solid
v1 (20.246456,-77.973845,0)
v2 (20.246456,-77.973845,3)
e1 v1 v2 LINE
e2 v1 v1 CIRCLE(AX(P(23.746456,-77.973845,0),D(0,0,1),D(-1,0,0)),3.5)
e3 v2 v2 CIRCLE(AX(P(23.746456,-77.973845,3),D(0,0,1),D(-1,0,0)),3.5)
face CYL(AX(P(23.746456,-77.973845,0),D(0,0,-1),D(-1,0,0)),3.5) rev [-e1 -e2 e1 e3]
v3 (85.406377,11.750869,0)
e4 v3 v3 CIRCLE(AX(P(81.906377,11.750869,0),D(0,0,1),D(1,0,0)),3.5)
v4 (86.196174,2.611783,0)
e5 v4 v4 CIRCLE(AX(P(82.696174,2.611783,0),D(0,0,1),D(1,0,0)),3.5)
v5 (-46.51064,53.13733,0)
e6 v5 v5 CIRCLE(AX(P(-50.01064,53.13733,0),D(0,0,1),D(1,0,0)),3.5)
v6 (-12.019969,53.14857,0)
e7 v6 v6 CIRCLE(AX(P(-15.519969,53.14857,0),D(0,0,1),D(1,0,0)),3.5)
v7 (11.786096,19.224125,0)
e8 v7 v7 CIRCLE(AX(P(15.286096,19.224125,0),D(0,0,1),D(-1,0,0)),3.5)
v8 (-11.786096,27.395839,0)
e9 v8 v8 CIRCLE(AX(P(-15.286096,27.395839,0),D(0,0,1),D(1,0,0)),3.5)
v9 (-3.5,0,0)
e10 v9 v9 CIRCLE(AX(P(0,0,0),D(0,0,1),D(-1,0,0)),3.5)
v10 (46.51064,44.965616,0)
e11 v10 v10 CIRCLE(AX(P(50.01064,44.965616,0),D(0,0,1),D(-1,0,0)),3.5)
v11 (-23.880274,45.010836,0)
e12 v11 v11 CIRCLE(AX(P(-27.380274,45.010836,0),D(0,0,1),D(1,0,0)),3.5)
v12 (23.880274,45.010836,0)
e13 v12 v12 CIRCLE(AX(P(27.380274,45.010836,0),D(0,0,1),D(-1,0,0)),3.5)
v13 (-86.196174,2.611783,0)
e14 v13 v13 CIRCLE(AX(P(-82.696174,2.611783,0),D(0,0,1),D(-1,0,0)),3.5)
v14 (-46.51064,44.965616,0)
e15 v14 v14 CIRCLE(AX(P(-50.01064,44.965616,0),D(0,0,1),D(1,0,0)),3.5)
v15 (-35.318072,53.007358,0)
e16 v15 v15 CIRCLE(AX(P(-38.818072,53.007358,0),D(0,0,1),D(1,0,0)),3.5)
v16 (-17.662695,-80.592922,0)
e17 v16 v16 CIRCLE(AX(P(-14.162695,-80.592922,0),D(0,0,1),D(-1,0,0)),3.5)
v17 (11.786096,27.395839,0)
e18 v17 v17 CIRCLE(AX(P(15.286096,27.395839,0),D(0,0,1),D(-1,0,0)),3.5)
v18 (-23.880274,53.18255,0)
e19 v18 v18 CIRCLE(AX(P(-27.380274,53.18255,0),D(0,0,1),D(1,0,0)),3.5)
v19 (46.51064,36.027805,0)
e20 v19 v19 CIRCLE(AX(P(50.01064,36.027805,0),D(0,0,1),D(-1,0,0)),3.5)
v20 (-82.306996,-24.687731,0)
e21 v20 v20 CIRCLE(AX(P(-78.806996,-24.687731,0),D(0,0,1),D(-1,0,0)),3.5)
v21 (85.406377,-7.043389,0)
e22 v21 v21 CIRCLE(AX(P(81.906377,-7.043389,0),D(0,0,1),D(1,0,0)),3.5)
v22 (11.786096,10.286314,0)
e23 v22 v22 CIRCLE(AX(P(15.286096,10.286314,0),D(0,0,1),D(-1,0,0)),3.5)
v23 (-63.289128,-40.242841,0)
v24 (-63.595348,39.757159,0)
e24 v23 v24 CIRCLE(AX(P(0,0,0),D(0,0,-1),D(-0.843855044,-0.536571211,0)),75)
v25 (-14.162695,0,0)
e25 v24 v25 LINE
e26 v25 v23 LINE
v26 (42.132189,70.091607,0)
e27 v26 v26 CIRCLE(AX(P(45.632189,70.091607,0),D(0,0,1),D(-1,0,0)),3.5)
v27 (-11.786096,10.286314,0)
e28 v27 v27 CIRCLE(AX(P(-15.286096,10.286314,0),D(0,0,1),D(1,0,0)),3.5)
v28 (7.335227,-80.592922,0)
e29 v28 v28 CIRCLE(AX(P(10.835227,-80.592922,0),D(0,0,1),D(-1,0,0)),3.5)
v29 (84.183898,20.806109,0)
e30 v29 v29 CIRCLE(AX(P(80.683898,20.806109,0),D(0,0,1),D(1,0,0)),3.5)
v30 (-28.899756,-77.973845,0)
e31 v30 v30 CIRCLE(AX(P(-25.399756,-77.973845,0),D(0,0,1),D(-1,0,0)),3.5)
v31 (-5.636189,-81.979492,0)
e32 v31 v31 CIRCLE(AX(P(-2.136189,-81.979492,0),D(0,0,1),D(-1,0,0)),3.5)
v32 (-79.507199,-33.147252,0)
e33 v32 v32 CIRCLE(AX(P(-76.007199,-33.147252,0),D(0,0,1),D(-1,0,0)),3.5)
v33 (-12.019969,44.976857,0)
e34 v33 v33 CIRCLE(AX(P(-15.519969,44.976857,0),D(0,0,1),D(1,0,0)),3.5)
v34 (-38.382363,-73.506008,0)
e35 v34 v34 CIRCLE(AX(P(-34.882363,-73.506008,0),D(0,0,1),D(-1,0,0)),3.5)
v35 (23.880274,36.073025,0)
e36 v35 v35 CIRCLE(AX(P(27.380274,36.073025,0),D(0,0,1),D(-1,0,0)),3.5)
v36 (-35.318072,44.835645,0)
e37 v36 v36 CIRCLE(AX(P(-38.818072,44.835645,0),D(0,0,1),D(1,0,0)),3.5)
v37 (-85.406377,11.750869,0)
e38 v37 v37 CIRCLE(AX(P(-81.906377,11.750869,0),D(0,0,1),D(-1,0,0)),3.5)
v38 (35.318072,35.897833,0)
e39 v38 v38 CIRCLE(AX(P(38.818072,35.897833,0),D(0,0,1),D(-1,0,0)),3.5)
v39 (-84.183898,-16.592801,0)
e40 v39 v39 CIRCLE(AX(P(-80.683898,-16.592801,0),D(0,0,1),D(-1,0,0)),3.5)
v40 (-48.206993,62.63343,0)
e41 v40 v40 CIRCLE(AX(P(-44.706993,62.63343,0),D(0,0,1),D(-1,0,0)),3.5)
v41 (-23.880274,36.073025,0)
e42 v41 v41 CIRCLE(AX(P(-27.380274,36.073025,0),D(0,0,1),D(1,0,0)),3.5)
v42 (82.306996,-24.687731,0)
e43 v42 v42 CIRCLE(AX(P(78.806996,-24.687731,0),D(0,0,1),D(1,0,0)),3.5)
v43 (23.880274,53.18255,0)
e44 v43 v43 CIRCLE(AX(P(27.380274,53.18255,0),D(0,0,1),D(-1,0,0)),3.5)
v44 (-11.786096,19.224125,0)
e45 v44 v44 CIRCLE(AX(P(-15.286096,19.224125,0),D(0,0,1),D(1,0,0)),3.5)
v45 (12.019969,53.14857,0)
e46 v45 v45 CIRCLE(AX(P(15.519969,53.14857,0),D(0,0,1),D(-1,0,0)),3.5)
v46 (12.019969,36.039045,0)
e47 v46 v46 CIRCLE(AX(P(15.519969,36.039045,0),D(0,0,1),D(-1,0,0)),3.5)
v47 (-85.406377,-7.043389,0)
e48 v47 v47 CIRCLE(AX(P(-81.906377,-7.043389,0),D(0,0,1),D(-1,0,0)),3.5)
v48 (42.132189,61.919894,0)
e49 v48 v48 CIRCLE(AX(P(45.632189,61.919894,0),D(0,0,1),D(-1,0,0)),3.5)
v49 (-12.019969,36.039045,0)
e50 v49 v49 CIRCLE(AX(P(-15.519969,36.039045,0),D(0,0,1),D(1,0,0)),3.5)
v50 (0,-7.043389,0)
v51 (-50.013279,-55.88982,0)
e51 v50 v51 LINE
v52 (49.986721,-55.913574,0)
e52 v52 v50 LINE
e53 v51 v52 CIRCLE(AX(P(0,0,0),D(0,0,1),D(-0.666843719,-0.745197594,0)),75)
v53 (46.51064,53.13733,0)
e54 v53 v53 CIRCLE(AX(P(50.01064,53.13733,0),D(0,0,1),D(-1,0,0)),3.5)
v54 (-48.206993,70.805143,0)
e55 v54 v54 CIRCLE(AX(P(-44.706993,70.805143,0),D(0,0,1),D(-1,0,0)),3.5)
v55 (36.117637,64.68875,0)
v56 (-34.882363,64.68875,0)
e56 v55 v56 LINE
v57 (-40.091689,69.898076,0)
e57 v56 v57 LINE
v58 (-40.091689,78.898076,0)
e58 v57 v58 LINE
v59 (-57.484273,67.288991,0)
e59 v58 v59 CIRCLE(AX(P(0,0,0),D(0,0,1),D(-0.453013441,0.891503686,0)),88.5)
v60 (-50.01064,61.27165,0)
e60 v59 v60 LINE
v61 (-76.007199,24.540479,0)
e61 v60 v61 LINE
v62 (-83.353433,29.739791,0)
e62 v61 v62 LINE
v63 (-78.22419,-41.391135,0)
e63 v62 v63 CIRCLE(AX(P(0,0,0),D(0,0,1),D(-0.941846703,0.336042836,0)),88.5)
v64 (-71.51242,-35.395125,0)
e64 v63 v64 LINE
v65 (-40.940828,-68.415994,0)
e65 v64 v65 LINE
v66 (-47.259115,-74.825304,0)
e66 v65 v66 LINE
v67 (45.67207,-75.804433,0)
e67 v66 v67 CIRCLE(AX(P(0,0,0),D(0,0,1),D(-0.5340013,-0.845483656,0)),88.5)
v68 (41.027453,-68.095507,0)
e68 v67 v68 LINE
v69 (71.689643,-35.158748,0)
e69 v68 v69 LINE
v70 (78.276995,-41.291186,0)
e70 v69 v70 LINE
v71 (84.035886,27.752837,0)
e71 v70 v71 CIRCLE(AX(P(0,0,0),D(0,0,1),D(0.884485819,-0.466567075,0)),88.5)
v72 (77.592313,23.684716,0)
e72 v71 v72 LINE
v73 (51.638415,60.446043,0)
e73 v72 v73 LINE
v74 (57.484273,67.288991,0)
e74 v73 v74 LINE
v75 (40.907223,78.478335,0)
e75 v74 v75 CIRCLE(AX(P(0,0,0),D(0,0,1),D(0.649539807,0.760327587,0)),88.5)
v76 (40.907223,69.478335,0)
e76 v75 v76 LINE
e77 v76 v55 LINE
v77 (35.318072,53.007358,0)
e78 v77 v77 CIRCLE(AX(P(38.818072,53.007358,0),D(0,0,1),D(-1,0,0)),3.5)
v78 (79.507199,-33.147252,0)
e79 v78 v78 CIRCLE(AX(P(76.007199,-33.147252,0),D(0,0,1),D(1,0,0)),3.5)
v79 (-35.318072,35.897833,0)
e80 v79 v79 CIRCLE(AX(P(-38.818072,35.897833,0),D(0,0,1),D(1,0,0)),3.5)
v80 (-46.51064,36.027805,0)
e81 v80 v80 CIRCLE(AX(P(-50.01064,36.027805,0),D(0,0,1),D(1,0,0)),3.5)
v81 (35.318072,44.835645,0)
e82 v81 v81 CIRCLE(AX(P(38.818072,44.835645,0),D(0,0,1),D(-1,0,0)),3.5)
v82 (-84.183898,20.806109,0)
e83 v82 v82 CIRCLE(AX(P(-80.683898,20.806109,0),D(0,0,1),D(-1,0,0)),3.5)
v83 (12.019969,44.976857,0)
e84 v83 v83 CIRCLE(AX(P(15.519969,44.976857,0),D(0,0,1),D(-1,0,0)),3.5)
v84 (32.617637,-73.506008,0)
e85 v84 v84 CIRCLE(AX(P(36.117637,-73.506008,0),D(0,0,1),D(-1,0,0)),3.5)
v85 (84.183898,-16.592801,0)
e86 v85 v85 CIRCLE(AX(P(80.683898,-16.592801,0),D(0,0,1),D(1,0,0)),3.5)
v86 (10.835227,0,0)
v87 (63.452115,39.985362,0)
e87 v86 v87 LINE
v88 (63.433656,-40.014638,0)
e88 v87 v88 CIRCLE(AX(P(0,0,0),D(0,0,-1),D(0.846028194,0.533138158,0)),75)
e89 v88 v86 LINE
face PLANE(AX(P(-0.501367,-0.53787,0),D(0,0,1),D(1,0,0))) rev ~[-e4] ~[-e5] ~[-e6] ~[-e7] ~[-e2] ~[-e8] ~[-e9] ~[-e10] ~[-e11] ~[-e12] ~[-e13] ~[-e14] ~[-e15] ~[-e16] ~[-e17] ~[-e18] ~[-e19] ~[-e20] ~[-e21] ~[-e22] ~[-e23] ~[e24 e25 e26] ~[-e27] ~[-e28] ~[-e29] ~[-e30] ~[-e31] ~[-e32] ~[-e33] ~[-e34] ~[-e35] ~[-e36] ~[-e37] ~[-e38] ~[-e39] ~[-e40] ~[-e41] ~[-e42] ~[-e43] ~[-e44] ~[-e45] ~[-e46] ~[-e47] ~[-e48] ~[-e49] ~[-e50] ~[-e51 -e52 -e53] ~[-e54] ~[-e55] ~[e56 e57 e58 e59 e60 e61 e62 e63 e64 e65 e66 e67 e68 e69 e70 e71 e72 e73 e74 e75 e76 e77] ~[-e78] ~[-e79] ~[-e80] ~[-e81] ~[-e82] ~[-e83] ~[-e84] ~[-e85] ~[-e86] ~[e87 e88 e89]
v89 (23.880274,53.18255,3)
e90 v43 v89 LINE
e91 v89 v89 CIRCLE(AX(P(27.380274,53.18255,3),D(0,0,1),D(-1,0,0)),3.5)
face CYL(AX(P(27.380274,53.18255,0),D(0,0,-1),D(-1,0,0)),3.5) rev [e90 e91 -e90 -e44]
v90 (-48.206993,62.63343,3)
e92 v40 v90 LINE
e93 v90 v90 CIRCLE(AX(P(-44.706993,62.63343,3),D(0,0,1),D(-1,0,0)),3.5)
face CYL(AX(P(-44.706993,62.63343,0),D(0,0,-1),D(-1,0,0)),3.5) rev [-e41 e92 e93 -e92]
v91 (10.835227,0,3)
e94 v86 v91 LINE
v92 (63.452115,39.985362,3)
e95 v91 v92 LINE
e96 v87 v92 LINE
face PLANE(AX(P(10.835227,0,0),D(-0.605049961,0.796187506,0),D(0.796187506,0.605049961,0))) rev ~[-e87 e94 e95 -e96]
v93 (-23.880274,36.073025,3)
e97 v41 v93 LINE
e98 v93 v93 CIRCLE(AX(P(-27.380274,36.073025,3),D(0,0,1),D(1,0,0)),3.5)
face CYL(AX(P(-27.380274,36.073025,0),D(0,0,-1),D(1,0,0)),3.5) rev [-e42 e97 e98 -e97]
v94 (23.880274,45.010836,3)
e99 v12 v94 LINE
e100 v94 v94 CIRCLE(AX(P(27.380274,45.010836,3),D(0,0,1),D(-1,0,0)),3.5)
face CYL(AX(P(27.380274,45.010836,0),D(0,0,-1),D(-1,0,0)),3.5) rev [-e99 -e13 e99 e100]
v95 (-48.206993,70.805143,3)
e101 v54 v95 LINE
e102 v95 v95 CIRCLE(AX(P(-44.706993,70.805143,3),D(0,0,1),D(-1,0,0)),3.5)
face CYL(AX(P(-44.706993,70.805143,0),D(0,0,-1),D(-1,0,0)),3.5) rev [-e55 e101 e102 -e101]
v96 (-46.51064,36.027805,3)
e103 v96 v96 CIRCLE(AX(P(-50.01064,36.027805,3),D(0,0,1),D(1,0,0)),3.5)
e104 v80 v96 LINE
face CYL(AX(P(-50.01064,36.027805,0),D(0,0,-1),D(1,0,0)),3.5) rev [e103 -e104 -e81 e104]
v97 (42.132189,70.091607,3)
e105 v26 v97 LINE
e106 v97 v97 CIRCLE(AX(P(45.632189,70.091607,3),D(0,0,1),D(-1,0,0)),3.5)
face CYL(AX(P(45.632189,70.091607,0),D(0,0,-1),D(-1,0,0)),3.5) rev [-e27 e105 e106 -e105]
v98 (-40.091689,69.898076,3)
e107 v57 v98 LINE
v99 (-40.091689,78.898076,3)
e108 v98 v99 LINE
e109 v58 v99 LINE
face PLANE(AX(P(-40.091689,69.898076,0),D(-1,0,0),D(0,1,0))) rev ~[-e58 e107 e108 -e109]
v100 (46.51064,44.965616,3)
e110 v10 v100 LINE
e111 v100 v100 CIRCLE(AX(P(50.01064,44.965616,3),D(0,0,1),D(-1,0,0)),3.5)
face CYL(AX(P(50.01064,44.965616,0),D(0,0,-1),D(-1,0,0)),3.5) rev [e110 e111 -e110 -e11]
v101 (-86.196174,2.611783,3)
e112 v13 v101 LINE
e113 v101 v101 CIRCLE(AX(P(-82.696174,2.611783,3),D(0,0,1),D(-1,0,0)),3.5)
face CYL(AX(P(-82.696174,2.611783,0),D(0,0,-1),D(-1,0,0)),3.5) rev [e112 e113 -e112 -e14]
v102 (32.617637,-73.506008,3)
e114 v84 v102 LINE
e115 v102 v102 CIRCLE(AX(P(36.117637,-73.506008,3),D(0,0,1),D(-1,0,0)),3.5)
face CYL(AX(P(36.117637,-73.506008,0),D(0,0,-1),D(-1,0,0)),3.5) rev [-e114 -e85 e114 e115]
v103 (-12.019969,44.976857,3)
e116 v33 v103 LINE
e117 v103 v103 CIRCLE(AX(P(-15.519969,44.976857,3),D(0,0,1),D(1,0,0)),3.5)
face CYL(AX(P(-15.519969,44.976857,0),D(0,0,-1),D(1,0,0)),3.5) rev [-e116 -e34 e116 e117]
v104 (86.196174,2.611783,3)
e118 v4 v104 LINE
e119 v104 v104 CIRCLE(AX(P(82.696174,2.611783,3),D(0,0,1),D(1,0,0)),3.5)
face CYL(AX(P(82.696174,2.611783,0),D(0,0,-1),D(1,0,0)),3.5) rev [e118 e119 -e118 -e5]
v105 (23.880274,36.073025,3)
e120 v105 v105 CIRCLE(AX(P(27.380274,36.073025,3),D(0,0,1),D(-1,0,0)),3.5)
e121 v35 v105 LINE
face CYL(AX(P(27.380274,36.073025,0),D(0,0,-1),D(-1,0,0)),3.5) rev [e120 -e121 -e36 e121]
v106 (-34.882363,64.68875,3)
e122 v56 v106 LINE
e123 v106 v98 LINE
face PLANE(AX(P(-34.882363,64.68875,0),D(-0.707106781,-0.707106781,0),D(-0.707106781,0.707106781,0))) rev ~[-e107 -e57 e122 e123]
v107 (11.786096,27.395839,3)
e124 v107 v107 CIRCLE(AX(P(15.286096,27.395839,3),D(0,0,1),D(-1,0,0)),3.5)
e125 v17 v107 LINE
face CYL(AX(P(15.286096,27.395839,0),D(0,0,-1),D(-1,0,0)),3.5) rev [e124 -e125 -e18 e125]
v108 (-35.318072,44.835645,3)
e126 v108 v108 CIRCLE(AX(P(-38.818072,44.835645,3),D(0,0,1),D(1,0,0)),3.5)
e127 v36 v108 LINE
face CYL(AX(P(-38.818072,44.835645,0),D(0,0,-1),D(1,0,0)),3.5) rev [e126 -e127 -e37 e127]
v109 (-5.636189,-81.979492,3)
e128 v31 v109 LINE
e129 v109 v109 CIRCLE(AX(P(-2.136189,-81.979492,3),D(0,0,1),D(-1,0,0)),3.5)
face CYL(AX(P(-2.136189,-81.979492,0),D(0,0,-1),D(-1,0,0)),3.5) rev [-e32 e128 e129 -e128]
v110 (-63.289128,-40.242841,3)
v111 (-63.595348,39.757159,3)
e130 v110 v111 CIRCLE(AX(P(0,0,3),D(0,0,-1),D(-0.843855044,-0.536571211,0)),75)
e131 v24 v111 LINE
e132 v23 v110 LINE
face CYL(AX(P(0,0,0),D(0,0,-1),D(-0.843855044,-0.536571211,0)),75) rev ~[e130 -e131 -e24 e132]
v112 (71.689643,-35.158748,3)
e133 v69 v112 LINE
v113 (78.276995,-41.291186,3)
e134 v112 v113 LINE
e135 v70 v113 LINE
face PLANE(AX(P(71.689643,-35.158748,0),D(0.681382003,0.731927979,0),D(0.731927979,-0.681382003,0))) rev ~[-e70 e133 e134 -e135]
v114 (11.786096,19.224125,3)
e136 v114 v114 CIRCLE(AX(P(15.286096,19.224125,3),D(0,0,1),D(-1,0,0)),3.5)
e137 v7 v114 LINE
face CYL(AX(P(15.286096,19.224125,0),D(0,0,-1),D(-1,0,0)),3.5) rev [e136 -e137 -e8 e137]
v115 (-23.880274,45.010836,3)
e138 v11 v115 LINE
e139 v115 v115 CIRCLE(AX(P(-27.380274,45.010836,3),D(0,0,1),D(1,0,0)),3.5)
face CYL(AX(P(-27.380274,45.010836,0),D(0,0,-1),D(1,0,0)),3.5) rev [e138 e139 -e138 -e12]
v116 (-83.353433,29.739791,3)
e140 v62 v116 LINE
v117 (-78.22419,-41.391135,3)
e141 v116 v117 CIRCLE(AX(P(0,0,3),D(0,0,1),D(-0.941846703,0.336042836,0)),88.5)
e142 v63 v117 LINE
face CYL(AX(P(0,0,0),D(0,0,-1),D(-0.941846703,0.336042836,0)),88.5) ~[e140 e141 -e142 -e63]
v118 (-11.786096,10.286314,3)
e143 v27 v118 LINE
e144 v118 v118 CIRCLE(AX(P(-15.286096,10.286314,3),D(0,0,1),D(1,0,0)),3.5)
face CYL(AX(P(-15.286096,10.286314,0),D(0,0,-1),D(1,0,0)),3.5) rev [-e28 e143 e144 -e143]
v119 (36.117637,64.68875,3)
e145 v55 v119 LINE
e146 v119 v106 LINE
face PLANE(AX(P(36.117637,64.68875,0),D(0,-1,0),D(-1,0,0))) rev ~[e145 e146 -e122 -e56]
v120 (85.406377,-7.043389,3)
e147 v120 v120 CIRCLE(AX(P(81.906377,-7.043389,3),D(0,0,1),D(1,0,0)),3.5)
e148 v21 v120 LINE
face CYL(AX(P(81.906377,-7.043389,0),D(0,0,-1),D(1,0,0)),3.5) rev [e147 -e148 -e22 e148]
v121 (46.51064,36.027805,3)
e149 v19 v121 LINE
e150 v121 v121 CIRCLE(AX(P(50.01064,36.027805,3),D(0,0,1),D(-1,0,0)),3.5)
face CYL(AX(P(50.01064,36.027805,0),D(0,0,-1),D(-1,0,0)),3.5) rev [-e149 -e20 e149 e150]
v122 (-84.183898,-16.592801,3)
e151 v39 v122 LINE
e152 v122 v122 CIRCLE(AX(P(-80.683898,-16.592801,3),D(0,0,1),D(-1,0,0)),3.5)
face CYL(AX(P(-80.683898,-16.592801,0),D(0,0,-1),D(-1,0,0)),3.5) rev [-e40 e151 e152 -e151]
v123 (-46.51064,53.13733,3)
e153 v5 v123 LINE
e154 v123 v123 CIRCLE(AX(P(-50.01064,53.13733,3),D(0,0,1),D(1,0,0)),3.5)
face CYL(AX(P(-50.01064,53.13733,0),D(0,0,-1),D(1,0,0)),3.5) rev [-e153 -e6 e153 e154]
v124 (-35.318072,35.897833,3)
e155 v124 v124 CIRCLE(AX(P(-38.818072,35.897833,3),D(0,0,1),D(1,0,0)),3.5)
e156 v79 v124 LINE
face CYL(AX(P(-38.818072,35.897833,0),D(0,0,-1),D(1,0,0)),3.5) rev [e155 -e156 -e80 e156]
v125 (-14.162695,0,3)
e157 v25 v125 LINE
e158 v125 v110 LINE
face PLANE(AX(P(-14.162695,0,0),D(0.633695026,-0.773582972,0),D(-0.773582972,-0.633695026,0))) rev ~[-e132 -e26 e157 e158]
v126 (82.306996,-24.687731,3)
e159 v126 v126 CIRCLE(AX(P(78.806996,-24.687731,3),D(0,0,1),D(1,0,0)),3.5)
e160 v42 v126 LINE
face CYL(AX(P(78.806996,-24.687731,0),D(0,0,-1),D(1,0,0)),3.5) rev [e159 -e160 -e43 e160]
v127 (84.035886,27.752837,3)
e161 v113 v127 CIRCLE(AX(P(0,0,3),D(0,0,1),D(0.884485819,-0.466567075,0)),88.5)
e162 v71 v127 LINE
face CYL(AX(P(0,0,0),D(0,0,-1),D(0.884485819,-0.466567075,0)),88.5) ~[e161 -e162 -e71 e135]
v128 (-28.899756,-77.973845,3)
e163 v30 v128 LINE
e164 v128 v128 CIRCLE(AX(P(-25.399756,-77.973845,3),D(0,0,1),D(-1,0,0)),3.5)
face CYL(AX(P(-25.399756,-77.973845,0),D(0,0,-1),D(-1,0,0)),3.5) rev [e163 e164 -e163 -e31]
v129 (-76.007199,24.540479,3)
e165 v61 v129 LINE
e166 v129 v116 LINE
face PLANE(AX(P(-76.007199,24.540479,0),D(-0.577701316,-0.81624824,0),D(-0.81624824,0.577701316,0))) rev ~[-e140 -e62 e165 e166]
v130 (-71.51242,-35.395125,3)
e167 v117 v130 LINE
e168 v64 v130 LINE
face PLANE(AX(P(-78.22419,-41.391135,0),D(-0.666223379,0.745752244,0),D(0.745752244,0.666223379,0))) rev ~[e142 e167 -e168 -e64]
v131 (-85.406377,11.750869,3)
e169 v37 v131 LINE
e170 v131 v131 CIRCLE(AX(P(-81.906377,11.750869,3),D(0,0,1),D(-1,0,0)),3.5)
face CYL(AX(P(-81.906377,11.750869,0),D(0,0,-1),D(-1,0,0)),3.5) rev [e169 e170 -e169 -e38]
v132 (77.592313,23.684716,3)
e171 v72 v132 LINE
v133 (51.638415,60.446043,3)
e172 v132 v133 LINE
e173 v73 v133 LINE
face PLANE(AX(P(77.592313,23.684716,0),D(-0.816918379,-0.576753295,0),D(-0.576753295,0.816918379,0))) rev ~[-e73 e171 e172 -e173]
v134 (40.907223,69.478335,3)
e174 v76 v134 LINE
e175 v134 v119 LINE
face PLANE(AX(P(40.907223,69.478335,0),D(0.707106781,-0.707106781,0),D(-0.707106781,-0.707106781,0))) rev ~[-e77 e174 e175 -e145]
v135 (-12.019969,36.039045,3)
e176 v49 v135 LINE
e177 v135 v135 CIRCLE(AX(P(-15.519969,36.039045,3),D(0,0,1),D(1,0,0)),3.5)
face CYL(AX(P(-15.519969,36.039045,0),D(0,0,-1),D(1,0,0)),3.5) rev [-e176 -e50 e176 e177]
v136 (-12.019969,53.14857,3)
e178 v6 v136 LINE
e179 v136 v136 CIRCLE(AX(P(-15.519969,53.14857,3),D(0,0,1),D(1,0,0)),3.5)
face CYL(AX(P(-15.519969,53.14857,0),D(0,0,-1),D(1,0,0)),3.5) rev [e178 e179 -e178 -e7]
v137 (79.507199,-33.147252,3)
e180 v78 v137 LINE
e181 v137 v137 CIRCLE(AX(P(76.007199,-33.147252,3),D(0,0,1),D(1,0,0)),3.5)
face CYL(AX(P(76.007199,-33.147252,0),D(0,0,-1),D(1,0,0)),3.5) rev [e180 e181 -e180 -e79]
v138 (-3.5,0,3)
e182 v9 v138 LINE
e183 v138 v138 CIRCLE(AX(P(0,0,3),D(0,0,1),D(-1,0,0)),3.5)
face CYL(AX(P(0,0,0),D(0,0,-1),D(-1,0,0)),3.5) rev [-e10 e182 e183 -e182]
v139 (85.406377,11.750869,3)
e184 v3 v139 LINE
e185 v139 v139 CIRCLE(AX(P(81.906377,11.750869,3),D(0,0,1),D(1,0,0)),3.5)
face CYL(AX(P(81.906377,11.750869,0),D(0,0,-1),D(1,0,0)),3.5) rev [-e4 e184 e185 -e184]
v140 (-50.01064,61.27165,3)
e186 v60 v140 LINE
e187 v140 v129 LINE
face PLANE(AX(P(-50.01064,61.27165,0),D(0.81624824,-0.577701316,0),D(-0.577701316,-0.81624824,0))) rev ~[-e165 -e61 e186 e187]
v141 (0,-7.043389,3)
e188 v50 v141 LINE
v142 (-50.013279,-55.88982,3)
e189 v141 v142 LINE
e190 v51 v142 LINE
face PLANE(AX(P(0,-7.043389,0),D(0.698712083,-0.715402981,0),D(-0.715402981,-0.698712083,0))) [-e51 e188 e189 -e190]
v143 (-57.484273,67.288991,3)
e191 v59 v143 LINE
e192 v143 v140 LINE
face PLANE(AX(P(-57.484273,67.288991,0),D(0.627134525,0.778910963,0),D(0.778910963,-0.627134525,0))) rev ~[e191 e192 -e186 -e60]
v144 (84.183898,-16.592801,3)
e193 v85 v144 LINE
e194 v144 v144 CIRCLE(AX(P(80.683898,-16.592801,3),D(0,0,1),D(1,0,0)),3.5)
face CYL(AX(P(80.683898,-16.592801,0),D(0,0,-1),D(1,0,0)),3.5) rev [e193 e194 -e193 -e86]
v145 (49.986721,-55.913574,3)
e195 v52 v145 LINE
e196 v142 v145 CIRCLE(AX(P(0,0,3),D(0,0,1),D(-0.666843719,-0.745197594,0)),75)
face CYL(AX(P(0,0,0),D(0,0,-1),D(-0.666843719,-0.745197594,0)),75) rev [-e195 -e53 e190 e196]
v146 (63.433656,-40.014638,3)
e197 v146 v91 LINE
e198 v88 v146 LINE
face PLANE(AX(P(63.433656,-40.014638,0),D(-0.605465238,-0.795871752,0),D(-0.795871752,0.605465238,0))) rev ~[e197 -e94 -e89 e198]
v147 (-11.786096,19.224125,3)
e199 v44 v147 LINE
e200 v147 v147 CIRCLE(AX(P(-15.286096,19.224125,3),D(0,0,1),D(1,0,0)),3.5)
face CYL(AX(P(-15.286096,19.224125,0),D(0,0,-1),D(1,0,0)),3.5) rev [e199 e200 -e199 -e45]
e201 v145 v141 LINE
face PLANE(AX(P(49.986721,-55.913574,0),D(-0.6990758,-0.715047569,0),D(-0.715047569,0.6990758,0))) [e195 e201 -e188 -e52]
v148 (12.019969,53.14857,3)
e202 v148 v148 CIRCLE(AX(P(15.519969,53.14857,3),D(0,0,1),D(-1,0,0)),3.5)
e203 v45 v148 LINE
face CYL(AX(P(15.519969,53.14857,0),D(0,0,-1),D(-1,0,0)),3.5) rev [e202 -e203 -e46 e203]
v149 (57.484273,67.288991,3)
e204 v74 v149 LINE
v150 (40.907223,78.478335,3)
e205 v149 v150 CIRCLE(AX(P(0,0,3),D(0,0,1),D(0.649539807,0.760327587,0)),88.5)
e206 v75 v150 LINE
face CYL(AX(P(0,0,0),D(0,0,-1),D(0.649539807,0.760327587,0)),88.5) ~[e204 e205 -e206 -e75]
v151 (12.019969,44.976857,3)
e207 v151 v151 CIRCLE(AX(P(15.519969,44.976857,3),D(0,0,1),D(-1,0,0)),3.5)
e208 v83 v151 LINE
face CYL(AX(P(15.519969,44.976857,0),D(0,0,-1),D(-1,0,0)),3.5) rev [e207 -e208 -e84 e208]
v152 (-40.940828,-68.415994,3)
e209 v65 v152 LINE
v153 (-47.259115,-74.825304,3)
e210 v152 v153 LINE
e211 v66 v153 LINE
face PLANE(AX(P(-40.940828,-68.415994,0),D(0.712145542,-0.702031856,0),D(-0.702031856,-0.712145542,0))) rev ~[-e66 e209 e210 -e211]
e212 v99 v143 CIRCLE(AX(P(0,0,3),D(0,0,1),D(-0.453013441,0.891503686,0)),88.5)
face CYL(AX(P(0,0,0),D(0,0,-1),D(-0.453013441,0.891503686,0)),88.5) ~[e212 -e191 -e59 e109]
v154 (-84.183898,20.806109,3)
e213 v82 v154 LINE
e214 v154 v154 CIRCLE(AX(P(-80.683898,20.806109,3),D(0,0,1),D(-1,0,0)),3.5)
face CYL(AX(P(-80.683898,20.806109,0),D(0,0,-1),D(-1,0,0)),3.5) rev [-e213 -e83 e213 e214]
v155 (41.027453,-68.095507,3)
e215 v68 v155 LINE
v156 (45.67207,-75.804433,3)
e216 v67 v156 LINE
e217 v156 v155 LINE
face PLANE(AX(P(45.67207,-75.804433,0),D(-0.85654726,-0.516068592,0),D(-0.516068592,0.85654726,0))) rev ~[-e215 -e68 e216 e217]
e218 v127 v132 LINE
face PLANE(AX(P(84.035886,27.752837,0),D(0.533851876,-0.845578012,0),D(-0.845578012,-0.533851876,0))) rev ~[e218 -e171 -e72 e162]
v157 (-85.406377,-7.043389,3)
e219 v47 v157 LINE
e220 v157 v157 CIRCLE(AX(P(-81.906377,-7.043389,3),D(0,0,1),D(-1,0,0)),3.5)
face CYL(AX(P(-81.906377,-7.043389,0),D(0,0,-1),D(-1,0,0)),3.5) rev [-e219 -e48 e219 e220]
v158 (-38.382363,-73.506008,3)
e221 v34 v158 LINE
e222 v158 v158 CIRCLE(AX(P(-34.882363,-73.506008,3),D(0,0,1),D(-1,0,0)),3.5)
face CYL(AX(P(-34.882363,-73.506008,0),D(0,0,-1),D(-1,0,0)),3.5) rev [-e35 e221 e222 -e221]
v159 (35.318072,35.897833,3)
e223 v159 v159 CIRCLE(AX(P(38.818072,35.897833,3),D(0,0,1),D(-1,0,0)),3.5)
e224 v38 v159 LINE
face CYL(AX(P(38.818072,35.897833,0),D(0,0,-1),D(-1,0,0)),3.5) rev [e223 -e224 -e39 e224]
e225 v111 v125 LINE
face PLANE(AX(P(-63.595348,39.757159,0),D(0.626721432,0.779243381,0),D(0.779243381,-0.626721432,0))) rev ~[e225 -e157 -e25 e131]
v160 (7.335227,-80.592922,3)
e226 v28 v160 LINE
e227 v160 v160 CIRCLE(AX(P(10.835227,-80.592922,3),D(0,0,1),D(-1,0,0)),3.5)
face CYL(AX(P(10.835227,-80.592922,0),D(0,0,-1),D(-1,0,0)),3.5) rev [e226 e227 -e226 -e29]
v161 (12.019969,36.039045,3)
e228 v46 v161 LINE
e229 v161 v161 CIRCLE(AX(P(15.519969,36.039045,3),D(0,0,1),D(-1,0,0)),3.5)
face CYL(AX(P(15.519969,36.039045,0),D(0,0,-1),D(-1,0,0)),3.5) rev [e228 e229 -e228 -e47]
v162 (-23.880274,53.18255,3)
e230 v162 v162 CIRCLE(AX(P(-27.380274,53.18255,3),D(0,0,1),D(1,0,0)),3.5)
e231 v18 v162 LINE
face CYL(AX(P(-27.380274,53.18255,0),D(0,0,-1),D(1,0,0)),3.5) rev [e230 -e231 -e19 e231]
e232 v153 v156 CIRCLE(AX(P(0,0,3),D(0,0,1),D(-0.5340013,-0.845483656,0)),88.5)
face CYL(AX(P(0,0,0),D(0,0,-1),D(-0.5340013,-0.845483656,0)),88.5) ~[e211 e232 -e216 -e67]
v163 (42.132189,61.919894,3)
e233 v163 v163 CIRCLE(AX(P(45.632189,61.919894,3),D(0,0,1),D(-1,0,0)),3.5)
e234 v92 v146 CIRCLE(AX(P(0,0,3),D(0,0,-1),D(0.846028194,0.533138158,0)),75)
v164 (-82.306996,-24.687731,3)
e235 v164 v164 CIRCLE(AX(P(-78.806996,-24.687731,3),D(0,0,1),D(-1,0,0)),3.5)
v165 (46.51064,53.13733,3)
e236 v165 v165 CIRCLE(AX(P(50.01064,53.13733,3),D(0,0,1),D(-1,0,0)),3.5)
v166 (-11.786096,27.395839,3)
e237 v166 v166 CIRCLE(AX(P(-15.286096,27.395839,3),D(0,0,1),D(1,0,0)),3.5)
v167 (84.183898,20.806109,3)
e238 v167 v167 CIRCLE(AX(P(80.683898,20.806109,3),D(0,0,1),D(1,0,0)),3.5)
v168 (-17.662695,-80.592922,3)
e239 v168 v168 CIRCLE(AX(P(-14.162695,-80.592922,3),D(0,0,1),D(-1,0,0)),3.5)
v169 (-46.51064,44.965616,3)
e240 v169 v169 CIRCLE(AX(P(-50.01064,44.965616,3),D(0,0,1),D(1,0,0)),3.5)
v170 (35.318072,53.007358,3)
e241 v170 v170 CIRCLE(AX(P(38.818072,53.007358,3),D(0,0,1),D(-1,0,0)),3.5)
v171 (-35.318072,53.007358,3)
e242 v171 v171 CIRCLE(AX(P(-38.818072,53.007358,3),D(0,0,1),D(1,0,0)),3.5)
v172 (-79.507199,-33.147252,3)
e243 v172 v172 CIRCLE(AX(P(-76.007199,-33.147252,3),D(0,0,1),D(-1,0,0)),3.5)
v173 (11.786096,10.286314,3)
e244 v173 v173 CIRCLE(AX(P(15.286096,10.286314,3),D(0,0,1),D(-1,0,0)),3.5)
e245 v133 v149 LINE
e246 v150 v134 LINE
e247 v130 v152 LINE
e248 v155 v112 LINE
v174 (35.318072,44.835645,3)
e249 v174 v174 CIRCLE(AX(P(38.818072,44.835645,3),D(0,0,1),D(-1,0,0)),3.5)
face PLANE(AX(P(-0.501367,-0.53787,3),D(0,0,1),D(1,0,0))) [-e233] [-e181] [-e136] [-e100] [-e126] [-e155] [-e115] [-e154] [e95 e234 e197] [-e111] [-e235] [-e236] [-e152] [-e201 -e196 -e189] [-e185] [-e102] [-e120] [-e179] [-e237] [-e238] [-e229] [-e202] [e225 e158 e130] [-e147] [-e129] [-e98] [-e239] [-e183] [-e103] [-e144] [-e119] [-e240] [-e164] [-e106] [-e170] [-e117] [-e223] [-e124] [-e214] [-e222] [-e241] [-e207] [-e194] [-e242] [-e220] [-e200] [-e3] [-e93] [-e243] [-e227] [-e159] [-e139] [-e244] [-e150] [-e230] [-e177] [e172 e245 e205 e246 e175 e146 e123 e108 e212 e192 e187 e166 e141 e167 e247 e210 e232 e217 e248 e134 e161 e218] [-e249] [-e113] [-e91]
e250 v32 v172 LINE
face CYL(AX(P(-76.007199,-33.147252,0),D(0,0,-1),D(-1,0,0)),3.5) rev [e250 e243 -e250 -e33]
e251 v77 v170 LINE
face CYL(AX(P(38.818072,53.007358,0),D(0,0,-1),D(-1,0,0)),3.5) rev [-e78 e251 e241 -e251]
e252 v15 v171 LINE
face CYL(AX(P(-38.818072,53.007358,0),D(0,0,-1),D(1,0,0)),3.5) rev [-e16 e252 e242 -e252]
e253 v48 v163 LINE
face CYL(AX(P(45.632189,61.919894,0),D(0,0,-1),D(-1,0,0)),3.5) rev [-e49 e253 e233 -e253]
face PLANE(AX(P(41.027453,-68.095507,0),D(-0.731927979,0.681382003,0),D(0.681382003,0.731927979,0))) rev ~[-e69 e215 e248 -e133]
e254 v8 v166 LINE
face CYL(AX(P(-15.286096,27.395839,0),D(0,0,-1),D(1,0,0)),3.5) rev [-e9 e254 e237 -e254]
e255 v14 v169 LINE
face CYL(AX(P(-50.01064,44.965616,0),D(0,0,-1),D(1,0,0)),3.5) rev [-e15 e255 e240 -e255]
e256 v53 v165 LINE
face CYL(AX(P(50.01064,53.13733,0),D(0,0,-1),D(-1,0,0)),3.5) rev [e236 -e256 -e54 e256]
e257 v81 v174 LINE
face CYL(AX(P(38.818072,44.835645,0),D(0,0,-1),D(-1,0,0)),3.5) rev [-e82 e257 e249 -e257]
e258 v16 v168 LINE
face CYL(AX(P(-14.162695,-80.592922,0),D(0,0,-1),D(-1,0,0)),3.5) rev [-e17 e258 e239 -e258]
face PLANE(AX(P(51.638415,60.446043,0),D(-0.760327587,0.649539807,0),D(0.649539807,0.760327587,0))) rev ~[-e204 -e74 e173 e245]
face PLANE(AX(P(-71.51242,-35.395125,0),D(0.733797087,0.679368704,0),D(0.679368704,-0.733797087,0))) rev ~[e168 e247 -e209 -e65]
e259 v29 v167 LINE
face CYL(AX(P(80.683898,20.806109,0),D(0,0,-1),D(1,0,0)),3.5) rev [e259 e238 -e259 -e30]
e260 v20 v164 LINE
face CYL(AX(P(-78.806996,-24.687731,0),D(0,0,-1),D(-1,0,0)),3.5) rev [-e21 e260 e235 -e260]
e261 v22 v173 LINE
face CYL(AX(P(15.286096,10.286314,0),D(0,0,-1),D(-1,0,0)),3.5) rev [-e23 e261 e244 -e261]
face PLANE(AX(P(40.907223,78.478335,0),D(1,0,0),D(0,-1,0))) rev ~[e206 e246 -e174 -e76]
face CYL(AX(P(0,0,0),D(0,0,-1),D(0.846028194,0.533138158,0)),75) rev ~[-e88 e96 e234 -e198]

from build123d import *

# Parameters (mm, degrees)
SKETCH1_R           = 3.5
BOSS_EXTRUDE4_DEPTH = 3


with BuildPart() as part:
    # Sketch1 → Boss-Extrude4 (new body)
    with BuildSketch(Plane.XY):
        with BuildLine():
            Line((40.907222951, 78.478335293), (40.907222951, 69.478335293))
            Line((40.907222951, 69.478335293), (36.117637198, 64.68874954))
            Line((36.117637198, 64.68874954), (-34.882362802, 64.68874954))
            Line((-34.882362802, 64.68874954), (-40.091689495, 69.898076234))
            Line((-40.091689495, 69.898076234), (-40.091689495, 78.898076234))
            ThreePointArc((-40.091689495, 78.898076234), (-49.132065099, 73.609035988), (-57.484272884, 67.288991455))
            Line((-57.484272884, 67.288991455), (-50.010639861, 61.271649914))
            Line((-50.010639861, 61.271649914), (-76.007199085, 24.540479112))
            Line((-76.007199085, 24.540479112), (-83.353433246, 29.739790957))
            ThreePointArc((-83.353433246, 29.739790957), (-88.270800728, -6.365197476), (-78.224190194, -41.391135144))
            Line((-78.224190194, -41.391135144), (-71.512419999, -35.395124733))
            Line((-71.512419999, -35.395124733), (-40.940828333, -68.415993634))
            Line((-40.940828333, -68.415993634), (-47.259115036, -74.825303514))
            ThreePointArc((-47.259115036, -74.825303514), (-0.932389989, -88.495088276), (45.672070369, -75.80443251))
            Line((45.672070369, -75.80443251), (41.027453044, -68.09550717))
            Line((41.027453044, -68.09550717), (71.689643186, -35.158748136))
            Line((71.689643186, -35.158748136), (78.276994993, -41.291186165))
            ThreePointArc((78.276994993, -41.291186165), (88.193747334, -7.356149214), (84.035885506, 27.752836742))
            Line((84.035885506, 27.752836742), (77.592312878, 23.684716135))
            Line((77.592312878, 23.684716135), (51.638414625, 60.446043171))
            Line((51.638414625, 60.446043171), (57.484272884, 67.288991455))
            ThreePointArc((57.484272884, 67.288991455), (49.512846485, 73.353445951), (40.907222951, 78.478335293))
        make_face()
        with Locations((-50.010639861, 36.027804692)):
            Circle(SKETCH1_R, mode=Mode.SUBTRACT)
        with Locations((-50.010639861, 44.965616211)):
            Circle(SKETCH1_R, mode=Mode.SUBTRACT)
        with Locations((-50.010639861, 53.137329599)):
            Circle(SKETCH1_R, mode=Mode.SUBTRACT)
        with Locations((-38.818072409, 35.897833432)):
            Circle(SKETCH1_R, mode=Mode.SUBTRACT)
        with Locations((-38.818072409, 44.835644951)):
            Circle(SKETCH1_R, mode=Mode.SUBTRACT)
        with Locations((-38.818072409, 53.007358339)):
            Circle(SKETCH1_R, mode=Mode.SUBTRACT)
        with Locations((-27.380273971, 36.073024906)):
            Circle(SKETCH1_R, mode=Mode.SUBTRACT)
        with Locations((-27.380273971, 45.010836425)):
            Circle(SKETCH1_R, mode=Mode.SUBTRACT)
        with Locations((-27.380273971, 53.182549814)):
            Circle(SKETCH1_R, mode=Mode.SUBTRACT)
        with Locations((-15.519969393, 36.039045095)):
            Circle(SKETCH1_R, mode=Mode.SUBTRACT)
        with Locations((-15.519969393, 44.976856614)):
            Circle(SKETCH1_R, mode=Mode.SUBTRACT)
        with Locations((-15.519969393, 53.148570003)):
            Circle(SKETCH1_R, mode=Mode.SUBTRACT)
        with Locations((-15.286095681, 10.286313721)):
            Circle(SKETCH1_R, mode=Mode.SUBTRACT)
        with Locations((-15.286095681, 19.22412524)):
            Circle(SKETCH1_R, mode=Mode.SUBTRACT)
        with Locations((-15.286095681, 27.395838628)):
            Circle(SKETCH1_R, mode=Mode.SUBTRACT)
        with Locations(Location((15.286095681, 27.395838628, 0), (0, 0, 180))):
            Circle(SKETCH1_R, mode=Mode.SUBTRACT)
        with Locations(Location((15.286095681, 19.22412524, 0), (0, 0, 180))):
            Circle(SKETCH1_R, mode=Mode.SUBTRACT)
        with Locations(Location((15.286095681, 10.286313721, 0), (0, 0, 180))):
            Circle(SKETCH1_R, mode=Mode.SUBTRACT)
        with Locations(Location((15.519969393, 53.148570003, 0), (0, 0, 180))):
            Circle(SKETCH1_R, mode=Mode.SUBTRACT)
        with Locations(Location((15.519969393, 44.976856614, 0), (0, 0, 180))):
            Circle(SKETCH1_R, mode=Mode.SUBTRACT)
        with Locations(Location((15.519969393, 36.039045095, 0), (0, 0, 180))):
            Circle(SKETCH1_R, mode=Mode.SUBTRACT)
        with Locations(Location((27.380273971, 53.182549814, 0), (0, 0, 180))):
            Circle(SKETCH1_R, mode=Mode.SUBTRACT)
        with Locations(Location((27.380273971, 45.010836425, 0), (0, 0, 180))):
            Circle(SKETCH1_R, mode=Mode.SUBTRACT)
        with Locations(Location((27.380273971, 36.073024906, 0), (0, 0, 180))):
            Circle(SKETCH1_R, mode=Mode.SUBTRACT)
        with Locations(Location((38.818072409, 53.007358339, 0), (0, 0, 180))):
            Circle(SKETCH1_R, mode=Mode.SUBTRACT)
        with Locations(Location((38.818072409, 44.835644951, 0), (0, 0, 180))):
            Circle(SKETCH1_R, mode=Mode.SUBTRACT)
        with Locations(Location((38.818072409, 35.897833432, 0), (0, 0, 180))):
            Circle(SKETCH1_R, mode=Mode.SUBTRACT)
        with Locations(Location((50.010639861, 53.137329599, 0), (0, 0, 180))):
            Circle(SKETCH1_R, mode=Mode.SUBTRACT)
        with Locations(Location((50.010639861, 44.965616211, 0), (0, 0, 180))):
            Circle(SKETCH1_R, mode=Mode.SUBTRACT)
        with Locations(Location((50.010639861, 36.027804692, 0), (0, 0, 180))):
            Circle(SKETCH1_R, mode=Mode.SUBTRACT)
        with Locations(Location((45.632189444, 70.091606922, 0), (0, 0, 180))):
            Circle(SKETCH1_R, mode=Mode.SUBTRACT)
        with Locations(Location((45.632189444, 61.919893534, 0), (0, 0, 180))):
            Circle(SKETCH1_R, mode=Mode.SUBTRACT)
        with Locations(Location((-44.706992882, 70.805142898, 0), (0, 0, 180))):
            Circle(SKETCH1_R, mode=Mode.SUBTRACT)
        with Locations(Location((-44.706992882, 62.633429509, 0), (0, 0, 180))):
            Circle(SKETCH1_R, mode=Mode.SUBTRACT)
        with Locations(Location((-80.683898282, 20.806109394, 0), (0, 0, 180))):
            Circle(SKETCH1_R, mode=Mode.SUBTRACT)
        with Locations(Location((-81.906376937, 11.750868753, 0), (0, 0, 180))):
            Circle(SKETCH1_R, mode=Mode.SUBTRACT)
        with Locations(Location((-82.69617398, 2.61178329, 0), (0, 0, 180))):
            Circle(SKETCH1_R, mode=Mode.SUBTRACT)
        with Locations(Location((-81.906376937, -7.043388597, 0), (0, 0, 180))):
            Circle(SKETCH1_R, mode=Mode.SUBTRACT)
        with Locations(Location((-80.683898282, -16.592800559, 0), (0, 0, 180))):
            Circle(SKETCH1_R, mode=Mode.SUBTRACT)
        with Locations(Location((-78.806996032, -24.687731454, 0), (0, 0, 180))):
            Circle(SKETCH1_R, mode=Mode.SUBTRACT)
        with Locations(Location((-76.007199085, -33.147251611, 0), (0, 0, 180))):
            Circle(SKETCH1_R, mode=Mode.SUBTRACT)
        with Locations((76.007199085, -33.147251611)):
            Circle(SKETCH1_R, mode=Mode.SUBTRACT)
        with Locations((78.806996032, -24.687731454)):
            Circle(SKETCH1_R, mode=Mode.SUBTRACT)
        with Locations((80.683898282, -16.592800559)):
            Circle(SKETCH1_R, mode=Mode.SUBTRACT)
        with Locations((81.906376937, -7.043388597)):
            Circle(SKETCH1_R, mode=Mode.SUBTRACT)
        with Locations((82.69617398, 2.61178329)):
            Circle(SKETCH1_R, mode=Mode.SUBTRACT)
        with Locations((81.906376937, 11.750868753)):
            Circle(SKETCH1_R, mode=Mode.SUBTRACT)
        with Locations((80.683898282, 20.806109394)):
            Circle(SKETCH1_R, mode=Mode.SUBTRACT)
        with Locations(Location((-34.882362802, -73.506007736, 0), (0, 0, 180))):
            Circle(SKETCH1_R, mode=Mode.SUBTRACT)
        with Locations(Location((-25.399755691, -77.973845143, 0), (0, 0, 180))):
            Circle(SKETCH1_R, mode=Mode.SUBTRACT)
        with Locations(Location((-2.136188505, -81.979492473, 0), (0, 0, 180))):
            Circle(SKETCH1_R, mode=Mode.SUBTRACT)
        with Locations(Location((0, 0, 0), (0, 0, 180))):
            Circle(SKETCH1_R, mode=Mode.SUBTRACT)
        with Locations(Location((-14.162695034, -80.592922243, 0), (0, 0, 180))):
            Circle(SKETCH1_R, mode=Mode.SUBTRACT)
        with Locations(Location((10.835227364, -80.592922243, 0), (0, 0, 180))):
            Circle(SKETCH1_R, mode=Mode.SUBTRACT)
        with Locations(Location((23.746455781, -77.973845143, 0), (0, 0, 180))):
            Circle(SKETCH1_R, mode=Mode.SUBTRACT)
        with Locations(Location((36.117637198, -73.506007736, 0), (0, 0, 180))):
            Circle(SKETCH1_R, mode=Mode.SUBTRACT)
        with BuildLine():
            Line((10.835227364, 0), (63.452114531, 39.985361841))
            ThreePointArc((63.452114531, 39.985361841), (74.999998004, -0.017304729), (63.433656153, -40.014638159))
            Line((63.433656153, -40.014638159), (10.835227364, 0))
        make_face(mode=Mode.SUBTRACT)
        with BuildLine():
            Line((0, -7.043388597), (-50.013278945, -55.889819549))
            ThreePointArc((-50.013278945, -55.889819549), (-0.017815574, -74.999997884), (49.986721055, -55.913573648))
            Line((49.986721055, -55.913573648), (0, -7.043388597))
        make_face(mode=Mode.SUBTRACT)
        with BuildLine():
            Line((-14.162695034, 0), (-63.289128306, -40.242840832))
            ThreePointArc((-63.289128306, -40.242840832), (-74.999450569, -0.287078916), (-63.59534806, 39.757159168))
            Line((-63.59534806, 39.757159168), (-14.162695034, 0))
        make_face(mode=Mode.SUBTRACT)
    extrude(amount=BOSS_EXTRUDE4_DEPTH)


solid = part.part
